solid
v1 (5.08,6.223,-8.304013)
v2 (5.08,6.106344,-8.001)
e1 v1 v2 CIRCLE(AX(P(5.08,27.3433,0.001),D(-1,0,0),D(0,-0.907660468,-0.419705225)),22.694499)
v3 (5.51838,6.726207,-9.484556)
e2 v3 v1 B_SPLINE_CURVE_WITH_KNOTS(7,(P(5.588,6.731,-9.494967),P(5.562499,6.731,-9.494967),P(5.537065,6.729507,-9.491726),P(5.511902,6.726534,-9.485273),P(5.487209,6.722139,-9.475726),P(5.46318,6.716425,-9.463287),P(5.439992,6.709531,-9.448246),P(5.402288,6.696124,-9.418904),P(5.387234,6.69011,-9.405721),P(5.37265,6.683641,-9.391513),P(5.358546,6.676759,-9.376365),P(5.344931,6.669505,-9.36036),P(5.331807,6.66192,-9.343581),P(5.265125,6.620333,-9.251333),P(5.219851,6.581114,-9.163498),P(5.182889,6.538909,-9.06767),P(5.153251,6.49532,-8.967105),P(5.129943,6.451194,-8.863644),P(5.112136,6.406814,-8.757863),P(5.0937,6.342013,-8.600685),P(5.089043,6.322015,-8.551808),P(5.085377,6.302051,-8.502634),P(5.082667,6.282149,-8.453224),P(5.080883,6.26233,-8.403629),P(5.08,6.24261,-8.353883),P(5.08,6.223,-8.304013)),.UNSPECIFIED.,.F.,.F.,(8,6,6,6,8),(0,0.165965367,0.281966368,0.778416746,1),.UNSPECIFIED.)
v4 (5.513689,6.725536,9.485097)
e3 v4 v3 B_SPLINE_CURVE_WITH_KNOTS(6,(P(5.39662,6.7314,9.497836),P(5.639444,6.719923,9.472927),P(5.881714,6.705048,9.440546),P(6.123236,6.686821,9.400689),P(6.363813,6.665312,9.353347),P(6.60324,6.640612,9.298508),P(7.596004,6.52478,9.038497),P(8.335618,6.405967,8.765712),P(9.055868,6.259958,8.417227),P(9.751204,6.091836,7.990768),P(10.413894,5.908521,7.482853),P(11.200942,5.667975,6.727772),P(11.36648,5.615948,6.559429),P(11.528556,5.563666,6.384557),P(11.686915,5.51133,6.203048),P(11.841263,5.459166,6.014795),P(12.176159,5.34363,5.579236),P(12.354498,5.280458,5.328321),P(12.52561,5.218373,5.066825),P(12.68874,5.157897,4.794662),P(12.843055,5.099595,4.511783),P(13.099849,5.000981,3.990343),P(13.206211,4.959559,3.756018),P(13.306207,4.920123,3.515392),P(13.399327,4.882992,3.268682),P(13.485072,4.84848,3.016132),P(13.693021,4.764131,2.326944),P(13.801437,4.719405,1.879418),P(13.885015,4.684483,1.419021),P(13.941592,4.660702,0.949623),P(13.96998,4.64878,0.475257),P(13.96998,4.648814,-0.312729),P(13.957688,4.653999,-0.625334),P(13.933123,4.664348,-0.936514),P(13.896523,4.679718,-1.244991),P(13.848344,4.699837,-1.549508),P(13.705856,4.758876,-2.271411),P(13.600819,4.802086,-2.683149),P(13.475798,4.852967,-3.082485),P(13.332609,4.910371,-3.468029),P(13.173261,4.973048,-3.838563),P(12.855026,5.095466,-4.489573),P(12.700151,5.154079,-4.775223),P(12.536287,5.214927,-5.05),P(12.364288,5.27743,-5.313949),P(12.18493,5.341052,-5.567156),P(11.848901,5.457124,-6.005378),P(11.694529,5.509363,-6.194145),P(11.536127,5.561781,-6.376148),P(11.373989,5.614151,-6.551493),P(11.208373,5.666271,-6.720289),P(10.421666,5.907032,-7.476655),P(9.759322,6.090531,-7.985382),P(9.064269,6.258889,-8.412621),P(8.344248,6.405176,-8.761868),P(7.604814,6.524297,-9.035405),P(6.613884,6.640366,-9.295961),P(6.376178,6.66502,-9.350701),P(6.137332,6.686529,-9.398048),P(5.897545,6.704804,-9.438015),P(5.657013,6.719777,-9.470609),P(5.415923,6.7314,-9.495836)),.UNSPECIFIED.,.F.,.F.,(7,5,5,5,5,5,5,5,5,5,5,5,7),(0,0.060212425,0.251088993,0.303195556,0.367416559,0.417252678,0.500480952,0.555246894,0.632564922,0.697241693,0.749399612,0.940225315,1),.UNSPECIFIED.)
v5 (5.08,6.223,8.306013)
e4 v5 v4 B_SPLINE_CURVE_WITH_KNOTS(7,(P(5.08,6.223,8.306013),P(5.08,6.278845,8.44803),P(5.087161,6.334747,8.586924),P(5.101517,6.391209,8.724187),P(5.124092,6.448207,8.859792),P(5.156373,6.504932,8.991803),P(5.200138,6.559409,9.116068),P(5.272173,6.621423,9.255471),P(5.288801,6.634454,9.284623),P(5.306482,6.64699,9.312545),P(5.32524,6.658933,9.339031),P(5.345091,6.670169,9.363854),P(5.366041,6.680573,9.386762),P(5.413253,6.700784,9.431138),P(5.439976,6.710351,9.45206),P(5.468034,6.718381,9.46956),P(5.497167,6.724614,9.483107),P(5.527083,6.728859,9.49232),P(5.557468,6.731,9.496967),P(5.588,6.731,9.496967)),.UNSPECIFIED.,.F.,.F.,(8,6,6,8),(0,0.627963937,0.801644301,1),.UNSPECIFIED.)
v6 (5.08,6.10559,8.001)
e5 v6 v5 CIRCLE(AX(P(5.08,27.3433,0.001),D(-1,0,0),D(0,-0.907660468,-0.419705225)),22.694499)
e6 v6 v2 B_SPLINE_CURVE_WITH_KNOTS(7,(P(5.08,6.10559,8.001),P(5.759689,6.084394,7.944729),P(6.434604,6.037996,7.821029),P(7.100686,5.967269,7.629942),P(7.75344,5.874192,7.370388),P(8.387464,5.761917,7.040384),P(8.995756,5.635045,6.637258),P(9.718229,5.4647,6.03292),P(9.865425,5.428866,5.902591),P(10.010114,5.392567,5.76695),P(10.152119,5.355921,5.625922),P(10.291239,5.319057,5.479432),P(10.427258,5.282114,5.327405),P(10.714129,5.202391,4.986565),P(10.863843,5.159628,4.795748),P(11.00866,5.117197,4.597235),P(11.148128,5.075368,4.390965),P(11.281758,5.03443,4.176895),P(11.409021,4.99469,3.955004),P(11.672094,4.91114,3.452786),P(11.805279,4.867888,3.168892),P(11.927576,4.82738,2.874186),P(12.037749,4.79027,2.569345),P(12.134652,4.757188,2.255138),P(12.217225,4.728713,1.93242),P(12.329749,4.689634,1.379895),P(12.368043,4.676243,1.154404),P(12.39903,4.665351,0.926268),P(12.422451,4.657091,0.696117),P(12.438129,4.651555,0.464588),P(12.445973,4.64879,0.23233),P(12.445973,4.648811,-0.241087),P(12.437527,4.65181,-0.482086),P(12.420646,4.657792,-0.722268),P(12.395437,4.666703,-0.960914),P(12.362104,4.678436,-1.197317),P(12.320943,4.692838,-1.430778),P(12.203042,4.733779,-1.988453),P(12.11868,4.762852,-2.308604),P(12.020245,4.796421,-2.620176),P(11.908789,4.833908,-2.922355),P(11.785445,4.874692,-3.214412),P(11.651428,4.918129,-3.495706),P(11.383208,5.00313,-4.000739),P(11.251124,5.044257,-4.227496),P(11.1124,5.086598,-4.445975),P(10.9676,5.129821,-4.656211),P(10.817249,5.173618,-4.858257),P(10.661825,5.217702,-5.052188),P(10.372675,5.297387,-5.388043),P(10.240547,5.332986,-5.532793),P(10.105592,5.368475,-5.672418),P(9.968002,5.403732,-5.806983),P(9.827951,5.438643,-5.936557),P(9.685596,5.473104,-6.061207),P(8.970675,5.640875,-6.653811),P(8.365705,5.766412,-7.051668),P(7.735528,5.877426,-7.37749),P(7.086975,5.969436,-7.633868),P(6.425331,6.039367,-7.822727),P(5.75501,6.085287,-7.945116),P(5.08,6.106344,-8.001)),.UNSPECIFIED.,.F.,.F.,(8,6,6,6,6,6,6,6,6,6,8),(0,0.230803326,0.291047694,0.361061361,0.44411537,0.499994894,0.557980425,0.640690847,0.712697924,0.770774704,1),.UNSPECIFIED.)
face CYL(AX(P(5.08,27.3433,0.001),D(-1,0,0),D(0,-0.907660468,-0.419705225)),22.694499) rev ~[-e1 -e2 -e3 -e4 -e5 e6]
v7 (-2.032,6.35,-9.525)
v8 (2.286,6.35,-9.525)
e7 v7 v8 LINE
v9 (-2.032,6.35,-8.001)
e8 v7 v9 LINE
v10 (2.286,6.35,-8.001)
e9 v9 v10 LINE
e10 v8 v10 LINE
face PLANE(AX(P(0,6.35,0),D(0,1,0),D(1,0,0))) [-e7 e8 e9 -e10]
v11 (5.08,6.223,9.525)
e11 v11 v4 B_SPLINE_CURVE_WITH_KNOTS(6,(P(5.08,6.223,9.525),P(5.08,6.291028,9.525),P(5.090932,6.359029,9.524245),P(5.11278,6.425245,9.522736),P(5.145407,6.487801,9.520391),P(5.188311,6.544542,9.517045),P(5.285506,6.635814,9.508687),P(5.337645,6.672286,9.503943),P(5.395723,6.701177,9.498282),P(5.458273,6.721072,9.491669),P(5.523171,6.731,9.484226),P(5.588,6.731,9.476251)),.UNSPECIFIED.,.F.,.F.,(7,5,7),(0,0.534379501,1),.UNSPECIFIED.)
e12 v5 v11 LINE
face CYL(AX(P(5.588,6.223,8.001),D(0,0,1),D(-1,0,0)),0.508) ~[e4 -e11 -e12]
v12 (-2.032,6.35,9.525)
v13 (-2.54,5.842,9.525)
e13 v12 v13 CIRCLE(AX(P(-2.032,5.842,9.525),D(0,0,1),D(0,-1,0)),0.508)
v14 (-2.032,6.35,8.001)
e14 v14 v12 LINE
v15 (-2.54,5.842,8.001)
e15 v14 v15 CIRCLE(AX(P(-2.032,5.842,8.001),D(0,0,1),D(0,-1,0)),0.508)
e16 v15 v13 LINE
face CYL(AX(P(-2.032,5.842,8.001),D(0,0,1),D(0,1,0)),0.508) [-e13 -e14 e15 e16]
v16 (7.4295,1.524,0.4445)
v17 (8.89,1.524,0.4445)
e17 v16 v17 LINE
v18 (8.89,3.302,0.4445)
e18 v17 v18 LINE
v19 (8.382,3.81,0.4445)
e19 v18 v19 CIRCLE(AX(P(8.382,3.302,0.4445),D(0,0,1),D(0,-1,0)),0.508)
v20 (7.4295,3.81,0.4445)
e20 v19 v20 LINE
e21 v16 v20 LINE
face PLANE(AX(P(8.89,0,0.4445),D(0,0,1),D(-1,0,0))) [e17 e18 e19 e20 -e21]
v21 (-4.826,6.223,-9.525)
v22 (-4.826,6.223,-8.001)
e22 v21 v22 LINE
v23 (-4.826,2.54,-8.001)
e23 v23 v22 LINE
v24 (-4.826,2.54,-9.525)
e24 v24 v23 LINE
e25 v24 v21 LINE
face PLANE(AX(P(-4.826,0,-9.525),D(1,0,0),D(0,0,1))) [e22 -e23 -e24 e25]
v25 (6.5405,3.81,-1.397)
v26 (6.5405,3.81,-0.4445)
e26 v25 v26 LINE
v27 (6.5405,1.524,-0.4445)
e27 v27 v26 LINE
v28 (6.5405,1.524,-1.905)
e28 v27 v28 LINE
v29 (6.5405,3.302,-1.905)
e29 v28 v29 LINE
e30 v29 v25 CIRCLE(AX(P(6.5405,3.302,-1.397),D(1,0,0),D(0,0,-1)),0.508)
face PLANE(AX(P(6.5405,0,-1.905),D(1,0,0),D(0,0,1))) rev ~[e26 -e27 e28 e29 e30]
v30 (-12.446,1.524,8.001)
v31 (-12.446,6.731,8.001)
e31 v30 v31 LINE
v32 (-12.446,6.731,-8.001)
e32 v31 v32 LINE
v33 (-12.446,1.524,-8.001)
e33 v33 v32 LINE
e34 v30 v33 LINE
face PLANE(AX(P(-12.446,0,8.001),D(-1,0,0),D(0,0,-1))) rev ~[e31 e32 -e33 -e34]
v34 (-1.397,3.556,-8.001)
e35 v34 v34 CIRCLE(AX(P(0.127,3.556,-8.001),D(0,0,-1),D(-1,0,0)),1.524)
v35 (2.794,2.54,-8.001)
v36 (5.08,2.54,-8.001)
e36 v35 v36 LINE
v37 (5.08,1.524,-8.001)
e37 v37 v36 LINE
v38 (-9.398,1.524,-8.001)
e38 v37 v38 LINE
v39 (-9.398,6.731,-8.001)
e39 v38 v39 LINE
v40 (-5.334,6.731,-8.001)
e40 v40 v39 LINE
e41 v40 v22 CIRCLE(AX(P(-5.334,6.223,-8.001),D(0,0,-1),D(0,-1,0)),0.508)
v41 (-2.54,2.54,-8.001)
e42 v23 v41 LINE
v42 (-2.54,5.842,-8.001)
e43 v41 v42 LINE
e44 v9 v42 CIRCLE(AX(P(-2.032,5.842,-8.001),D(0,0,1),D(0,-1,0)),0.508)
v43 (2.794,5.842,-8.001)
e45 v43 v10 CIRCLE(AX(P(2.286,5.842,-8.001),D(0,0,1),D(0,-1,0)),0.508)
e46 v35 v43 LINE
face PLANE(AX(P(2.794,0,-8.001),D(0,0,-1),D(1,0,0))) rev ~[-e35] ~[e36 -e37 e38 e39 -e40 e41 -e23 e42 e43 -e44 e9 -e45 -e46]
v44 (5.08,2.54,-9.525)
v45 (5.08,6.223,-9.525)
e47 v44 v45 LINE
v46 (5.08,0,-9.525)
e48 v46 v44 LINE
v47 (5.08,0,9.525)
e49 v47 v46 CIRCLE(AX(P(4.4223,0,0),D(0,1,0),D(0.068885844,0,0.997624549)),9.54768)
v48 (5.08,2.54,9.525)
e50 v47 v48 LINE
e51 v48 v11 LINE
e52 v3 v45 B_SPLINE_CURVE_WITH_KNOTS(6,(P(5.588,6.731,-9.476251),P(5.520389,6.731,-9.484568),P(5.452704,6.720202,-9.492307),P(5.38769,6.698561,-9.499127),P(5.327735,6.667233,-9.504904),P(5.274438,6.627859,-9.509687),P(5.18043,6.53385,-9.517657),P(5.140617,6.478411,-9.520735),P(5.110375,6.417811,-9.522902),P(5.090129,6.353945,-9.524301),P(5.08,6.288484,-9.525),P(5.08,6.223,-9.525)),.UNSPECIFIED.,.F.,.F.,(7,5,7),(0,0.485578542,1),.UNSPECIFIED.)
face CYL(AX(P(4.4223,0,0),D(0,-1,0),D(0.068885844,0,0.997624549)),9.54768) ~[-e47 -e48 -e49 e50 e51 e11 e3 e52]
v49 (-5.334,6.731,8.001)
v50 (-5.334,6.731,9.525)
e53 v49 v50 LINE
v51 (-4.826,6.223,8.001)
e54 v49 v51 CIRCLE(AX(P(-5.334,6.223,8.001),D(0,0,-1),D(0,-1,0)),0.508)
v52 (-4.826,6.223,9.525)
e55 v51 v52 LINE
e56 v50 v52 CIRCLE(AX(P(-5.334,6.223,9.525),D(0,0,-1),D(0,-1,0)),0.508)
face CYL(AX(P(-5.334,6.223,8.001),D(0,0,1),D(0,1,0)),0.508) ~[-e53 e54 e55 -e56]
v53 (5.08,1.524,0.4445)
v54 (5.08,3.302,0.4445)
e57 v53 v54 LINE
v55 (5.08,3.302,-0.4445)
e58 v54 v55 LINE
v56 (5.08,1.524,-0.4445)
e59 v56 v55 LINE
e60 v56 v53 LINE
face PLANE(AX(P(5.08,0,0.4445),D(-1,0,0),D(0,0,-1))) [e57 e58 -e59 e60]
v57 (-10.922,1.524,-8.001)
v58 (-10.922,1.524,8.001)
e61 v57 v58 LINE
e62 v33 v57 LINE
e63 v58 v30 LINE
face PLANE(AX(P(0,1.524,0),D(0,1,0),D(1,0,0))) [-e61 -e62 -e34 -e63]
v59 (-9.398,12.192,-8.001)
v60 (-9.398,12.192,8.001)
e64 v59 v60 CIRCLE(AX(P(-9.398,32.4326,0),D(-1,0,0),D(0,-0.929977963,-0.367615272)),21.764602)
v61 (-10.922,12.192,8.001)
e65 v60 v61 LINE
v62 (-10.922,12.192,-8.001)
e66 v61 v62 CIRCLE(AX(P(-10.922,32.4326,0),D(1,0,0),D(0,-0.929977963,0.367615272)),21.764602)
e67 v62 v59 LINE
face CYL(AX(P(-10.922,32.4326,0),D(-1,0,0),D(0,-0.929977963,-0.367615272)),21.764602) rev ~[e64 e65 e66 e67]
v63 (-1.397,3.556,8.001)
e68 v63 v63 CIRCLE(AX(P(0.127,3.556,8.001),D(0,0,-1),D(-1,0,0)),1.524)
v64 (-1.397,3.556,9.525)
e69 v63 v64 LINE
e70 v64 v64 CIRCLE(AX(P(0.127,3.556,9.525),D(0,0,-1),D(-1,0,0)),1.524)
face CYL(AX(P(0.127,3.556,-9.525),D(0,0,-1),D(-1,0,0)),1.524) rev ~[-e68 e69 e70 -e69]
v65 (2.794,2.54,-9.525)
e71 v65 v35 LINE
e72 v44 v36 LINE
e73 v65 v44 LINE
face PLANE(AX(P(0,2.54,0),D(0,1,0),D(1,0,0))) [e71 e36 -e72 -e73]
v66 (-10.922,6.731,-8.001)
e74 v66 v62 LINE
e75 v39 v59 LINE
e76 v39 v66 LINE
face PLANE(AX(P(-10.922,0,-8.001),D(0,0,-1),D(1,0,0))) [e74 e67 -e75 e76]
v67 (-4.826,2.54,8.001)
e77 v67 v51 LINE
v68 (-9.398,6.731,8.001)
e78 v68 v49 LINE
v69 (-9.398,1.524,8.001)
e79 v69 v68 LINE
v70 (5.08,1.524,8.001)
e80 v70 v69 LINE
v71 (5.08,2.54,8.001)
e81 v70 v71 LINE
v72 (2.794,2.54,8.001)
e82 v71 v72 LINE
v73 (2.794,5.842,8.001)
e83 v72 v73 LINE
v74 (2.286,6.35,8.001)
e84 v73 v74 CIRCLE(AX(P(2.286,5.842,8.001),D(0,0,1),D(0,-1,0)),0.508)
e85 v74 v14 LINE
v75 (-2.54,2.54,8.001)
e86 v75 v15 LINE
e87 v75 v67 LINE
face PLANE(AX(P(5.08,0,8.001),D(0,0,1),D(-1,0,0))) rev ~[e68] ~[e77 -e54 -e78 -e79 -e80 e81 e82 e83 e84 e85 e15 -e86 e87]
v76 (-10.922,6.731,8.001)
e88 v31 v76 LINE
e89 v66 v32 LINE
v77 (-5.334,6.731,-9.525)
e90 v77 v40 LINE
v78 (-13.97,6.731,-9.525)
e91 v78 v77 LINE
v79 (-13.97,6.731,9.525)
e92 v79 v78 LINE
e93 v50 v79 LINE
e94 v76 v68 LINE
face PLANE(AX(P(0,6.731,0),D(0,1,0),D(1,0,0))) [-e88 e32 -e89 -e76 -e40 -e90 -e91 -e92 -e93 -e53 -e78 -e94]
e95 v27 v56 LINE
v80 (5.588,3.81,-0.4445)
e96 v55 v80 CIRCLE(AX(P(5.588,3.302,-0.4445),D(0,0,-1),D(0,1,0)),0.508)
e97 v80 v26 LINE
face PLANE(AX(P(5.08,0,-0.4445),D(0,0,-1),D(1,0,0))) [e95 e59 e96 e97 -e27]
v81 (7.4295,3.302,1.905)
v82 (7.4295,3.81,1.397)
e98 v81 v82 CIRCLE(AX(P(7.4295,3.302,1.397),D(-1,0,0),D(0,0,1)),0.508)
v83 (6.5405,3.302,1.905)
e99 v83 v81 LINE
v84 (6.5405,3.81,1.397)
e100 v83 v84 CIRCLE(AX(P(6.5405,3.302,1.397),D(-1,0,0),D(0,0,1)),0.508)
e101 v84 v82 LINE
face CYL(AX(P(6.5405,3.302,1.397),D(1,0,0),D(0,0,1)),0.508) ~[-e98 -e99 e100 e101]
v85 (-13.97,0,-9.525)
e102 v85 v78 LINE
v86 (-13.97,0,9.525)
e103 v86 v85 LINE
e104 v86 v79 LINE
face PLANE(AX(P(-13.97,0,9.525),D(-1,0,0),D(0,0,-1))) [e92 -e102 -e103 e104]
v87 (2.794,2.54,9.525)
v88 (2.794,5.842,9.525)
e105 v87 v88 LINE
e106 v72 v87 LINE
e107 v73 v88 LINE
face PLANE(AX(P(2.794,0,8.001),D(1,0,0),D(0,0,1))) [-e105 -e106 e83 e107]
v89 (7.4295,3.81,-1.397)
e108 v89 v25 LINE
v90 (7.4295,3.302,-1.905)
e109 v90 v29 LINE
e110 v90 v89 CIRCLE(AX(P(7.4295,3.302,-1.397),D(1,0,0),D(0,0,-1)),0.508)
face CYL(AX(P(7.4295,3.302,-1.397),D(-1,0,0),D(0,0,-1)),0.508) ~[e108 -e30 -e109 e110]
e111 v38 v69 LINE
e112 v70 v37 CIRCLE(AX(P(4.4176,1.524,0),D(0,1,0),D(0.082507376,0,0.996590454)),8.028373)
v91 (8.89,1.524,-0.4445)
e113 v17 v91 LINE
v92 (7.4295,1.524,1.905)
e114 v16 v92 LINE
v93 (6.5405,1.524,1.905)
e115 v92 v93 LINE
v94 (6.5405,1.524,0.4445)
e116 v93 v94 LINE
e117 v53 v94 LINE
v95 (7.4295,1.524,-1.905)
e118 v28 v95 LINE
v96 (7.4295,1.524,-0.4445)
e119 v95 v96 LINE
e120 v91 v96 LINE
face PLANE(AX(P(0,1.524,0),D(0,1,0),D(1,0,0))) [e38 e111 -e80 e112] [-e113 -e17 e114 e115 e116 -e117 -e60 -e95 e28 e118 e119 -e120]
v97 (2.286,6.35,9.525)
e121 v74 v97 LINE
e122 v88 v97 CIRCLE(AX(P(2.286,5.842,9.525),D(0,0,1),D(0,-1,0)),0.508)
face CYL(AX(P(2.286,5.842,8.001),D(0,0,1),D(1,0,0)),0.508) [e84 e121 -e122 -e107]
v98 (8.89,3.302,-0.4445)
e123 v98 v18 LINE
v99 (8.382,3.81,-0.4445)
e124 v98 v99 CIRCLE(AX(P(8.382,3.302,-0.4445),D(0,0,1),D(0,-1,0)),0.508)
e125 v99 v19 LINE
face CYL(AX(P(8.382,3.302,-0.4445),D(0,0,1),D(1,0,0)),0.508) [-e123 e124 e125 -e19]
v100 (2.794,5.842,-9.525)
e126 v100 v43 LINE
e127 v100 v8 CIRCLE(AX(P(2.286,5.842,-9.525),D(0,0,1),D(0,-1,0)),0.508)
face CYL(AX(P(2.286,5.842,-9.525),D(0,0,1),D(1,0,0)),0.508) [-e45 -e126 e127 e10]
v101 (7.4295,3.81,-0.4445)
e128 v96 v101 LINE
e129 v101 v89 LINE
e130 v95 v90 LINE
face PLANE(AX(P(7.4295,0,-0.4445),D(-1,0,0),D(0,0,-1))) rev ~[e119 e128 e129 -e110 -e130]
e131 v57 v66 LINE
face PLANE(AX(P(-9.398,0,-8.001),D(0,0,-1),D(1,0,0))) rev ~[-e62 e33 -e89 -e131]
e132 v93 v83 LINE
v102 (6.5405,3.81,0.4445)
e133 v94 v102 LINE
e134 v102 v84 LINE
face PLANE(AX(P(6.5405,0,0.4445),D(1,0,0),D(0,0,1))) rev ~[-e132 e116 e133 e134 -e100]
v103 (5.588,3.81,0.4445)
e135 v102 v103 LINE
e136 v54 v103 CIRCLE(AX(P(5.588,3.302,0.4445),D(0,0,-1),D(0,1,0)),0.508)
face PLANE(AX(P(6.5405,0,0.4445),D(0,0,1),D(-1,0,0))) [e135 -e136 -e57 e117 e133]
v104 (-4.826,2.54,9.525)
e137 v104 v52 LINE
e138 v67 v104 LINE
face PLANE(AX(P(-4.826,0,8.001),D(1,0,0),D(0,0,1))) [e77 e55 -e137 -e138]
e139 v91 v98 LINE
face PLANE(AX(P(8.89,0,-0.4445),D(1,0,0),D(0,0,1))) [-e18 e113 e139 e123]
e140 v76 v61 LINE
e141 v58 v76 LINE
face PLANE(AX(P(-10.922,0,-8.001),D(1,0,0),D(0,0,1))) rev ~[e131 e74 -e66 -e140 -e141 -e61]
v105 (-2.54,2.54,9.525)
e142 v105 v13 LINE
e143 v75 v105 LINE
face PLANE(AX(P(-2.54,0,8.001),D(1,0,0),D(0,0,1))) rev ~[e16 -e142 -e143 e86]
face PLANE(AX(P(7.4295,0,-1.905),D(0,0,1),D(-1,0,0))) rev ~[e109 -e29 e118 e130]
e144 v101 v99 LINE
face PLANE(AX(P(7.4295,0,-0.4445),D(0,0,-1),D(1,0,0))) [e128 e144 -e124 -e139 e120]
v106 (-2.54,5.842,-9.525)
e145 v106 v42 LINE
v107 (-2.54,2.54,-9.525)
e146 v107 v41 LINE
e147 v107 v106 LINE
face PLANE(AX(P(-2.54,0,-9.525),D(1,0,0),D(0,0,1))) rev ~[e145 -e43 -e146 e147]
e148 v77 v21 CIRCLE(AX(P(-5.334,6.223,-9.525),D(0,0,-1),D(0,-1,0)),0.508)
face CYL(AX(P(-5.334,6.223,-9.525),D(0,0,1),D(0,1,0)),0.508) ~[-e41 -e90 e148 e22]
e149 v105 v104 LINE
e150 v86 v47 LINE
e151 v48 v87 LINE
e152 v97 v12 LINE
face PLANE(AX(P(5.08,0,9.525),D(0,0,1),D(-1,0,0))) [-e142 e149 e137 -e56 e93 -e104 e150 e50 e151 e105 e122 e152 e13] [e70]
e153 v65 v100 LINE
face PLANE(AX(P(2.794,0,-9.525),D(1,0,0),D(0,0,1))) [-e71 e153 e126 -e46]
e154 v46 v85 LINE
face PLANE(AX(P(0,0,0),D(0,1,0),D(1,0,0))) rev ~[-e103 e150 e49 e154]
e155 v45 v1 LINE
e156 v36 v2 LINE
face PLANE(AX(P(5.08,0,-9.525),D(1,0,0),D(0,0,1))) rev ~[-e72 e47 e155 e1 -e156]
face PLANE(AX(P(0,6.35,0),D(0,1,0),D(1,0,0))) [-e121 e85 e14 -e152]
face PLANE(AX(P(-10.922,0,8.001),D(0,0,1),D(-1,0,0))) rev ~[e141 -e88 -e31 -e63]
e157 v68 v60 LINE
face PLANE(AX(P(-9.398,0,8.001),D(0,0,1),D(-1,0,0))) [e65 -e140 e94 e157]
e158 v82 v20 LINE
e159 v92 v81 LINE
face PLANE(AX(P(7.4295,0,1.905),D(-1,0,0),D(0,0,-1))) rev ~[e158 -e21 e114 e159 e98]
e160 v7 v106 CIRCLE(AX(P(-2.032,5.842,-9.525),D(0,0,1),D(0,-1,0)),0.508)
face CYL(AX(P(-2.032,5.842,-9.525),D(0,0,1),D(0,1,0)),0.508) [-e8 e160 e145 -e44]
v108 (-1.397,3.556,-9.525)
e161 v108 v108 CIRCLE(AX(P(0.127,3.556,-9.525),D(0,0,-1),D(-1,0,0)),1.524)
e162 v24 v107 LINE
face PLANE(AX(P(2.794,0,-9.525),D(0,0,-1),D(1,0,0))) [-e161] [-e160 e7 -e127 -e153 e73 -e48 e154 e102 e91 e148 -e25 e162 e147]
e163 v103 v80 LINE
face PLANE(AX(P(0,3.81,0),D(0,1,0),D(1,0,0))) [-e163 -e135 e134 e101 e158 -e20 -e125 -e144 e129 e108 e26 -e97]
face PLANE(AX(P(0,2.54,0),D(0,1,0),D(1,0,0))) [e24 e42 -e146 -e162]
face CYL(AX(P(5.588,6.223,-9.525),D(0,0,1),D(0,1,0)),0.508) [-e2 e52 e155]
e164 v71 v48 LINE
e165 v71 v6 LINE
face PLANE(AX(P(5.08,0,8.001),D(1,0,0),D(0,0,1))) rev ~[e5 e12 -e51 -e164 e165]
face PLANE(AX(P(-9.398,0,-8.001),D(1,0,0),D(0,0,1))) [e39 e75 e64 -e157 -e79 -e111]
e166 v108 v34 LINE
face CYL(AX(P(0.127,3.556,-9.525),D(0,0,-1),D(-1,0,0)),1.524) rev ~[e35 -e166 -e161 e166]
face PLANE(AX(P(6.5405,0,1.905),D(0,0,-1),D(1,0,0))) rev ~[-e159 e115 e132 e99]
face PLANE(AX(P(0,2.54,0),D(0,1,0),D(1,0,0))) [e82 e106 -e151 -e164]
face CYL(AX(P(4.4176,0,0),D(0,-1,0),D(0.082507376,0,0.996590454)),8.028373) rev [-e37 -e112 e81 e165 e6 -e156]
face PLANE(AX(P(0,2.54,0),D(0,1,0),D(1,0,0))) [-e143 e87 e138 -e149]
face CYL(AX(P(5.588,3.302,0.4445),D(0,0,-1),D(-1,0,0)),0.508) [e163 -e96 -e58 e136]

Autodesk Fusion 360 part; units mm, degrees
sketch "Sketch1" plane through (0, 0, 0) normal (0, 1, 0) x (1, 0, 0)
  line L0 (-13.97, -9.525) -> (-13.97, 9.525)
  line L1 (-13.97, 9.525) -> (13.97, 9.525)
  line L2 (13.97, 9.525) -> (13.97, -9.525)
  line L3 (13.97, -9.525) -> (-13.97, 9.525) construction
  line L4 (-13.97, -9.525) -> (13.97, 9.525) construction
  line L5 (5.08, 9.525) -> (5.08, -9.525) construction
  line L6 (5.08, 0) -> (13.97, 0) construction
  arc A0 (5.08, -9.525) -> (5.08, 9.525) centre (4.4223, 0) ccw
  line L7 (-13.97, 9.525) -> (13.97, 9.525)
  arc A1 (5.08, -9.525) -> (5.08, 9.525) centre (4.4223, 0) ccw
  line L8 (13.97, -9.525) -> (-13.97, -9.525)
  line L9 (-13.97, -9.525) -> (-13.97, 9.525)
  line L10 (-12.446, 8.001) -> (5.08, 8.001)
  line L11 (5.08, -8.001) -> (-12.446, -8.001)
  line L12 (-12.446, -8.001) -> (-12.446, 8.001)
  line L13 (13.97, 0) -> (12.446, 0) construction
  arc A2 (5.08, -8.001) -> (5.08, 8.001) centre (4.4176, 0) ccw
  line L14 (-10.922, 8.001) -> (-10.922, -8.001)
  line L15 (-9.398, 8.001) -> (-9.398, -8.001)
  line L16 (2.794, 9.525) -> (2.794, 8.001)
  line L17 (2.794, -8.001) -> (2.794, -9.525)
  line L18 (-2.54, 9.525) -> (-2.54, 8.001)
  line L19 (-2.54, -8.001) -> (-2.54, -9.525)
  line L20 (-4.826, 9.525) -> (-4.826, 8.001)
  line L21 (-4.826, -8.001) -> (-4.826, -9.525)
  line L22 (5.08, 9.525) -> (5.08, 8.001)
  line L23 (5.08, -8.001) -> (5.08, -9.525)
  line L24 (5.08, 0.4445) -> (8.89, 0.4445)
  line L25 (8.89, 0.4445) -> (8.89, -0.4445)
  line L26 (8.89, -0.4445) -> (5.08, -0.4445)
  line L27 (5.08, -0.4445) -> (5.08, 0.4445)
  line L28 (5.08, 0) -> (6.985, 0) construction
  line L29 (7.4295, 1.905) -> (6.5405, 1.905)
  line L30 (6.5405, 1.905) -> (6.5405, -1.905)
  line L31 (6.5405, -1.905) -> (7.4295, -1.905)
  line L32 (7.4295, -1.905) -> (7.4295, 1.905)
  line L33 (7.4295, 1.905) -> (6.5405, -1.905) construction
  line L34 (6.5405, 1.905) -> (7.4295, -1.905) construction
  point P0 (6.985, 0)
  dimension "d2" = 19.05
  dimension "d4" = 9.525
  dimension "d5" = 9.525
  dimension "d6" = 27.94
  dimension "d7" = 19.05
  dimension "d12" = 1.524
  dimension "d13" = 1.524
  dimension "d14" = 1.524
  dimension "d17" = 19.05
  dimension "d18" = 19.05
  dimension "d19" = 1.524
  dimension "d20" = 1.524
  dimension "d21" = 1.524
  dimension "d22" = 16.764
  dimension "d23" = 11.43
  dimension "d24" = 16.764
  dimension "d25" = 11.43
  dimension "d26" = 2.286
  dimension "d27" = 2.286
  dimension "d38" = 3.81
  dimension "d39" = 0.889
  dimension "d40" = 0.4445
  dimension "d41" = 1.905
  dimension "d42" = 0.889
  dimension "d43" = 3.81
extrude "Extrude1" add sketch "Sketch1" along normal blind 6.731 contours L0 L1 L7 L8 L9 L10 L11 L12 L20 L21 | A0 A1 A2 L22 L23 makes body 1 at (9.3779, 4.4873, -8.1609) makes body 2 at (-13.97, 4.4873, 3.175)
extrude "Extrude2" add sketch "Sketch1" along normal blind 12.192 contours L10 L11 L14 L15 bodies 2
extrude "Extrude3" add sketch "Sketch1" along normal blind 1.524 contours L10 L11 A2 L15 | L10 L11 L12 L14 | L24 L26 L27 L30 | L24 L29 L30 L32 | L24 L26 L30 L32 | L24 L25 L26 L32 | L26 L30 L31 L32 bodies 1 2
extrude "Extrude4" add sketch "Sketch1" along normal blind 2.54 contours L8 L11 L19 L21 | L1 L7 L10 L18 L20 | L8 L11 L17 L23 | L1 L7 L10 L16 L22 bodies 1
extrude "Extrude5" add sketch "Sketch1" along normal blind 6.35 contours L8 L11 L17 L19 | L1 L7 L10 L16 L18 bodies 1
extrude "Extrude6" add sketch "Sketch1" along normal blind 3.81 contours L24 L26 L27 L30 | L24 L29 L30 L32 | L24 L26 L30 L32 | L24 L25 L26 L32 | L26 L30 L31 L32 bodies 1
sketch "Sketch2" plane through (-10.922, 0, 0) normal (-1, 0, 0) x (0, 0, 1)
  line L0 (-8.001, 1.524) -> (8.001, 1.524)
  line L1 (8.001, 1.524) -> (8.001, 6.731)
  line L2 (8.001, 6.731) -> (8.001, 12.192)
  line L3 (8.001, 12.192) -> (-8.001, 12.192)
  line L4 (-8.001, 12.192) -> (-8.001, 6.731)
  line L5 (-8.001, 6.731) -> (-8.001, 1.524)
  line L6 (0, 12.192) -> (0, 10.668)
  arc A0 (-8.001, 12.192) -> (8.001, 12.192) centre (0, 32.4326) ccw
  dimension "d46" = 1.524
extrude "Extrude7" cut sketch "Sketch2" against normal up to surface (1.524 mm away) contours L3 L6 A0 | L3 L6 A0 bodies 1
sketch "Sketch3" plane through (0, 0, -9.525) normal (0, 0, -1) x (-1, 0, 0)
  line L0 (-5.08, 0) -> (13.97, 0)
  line L1 (13.97, 0) -> (13.97, 6.731)
  line L2 (13.97, 6.731) -> (4.826, 6.731)
  line L3 (4.826, 6.731) -> (4.826, 2.54)
  line L4 (4.826, 2.54) -> (2.54, 2.54)
  line L5 (2.54, 2.54) -> (2.54, 6.35)
  line L6 (2.54, 6.35) -> (-2.794, 6.35)
  line L7 (-2.794, 6.35) -> (-2.794, 2.54)
  line L8 (-2.794, 2.54) -> (-5.08, 2.54)
  line L9 (-5.08, 2.54) -> (-5.08, 0)
  line L10 (-2.794, 3.556) -> (2.54, 3.556) construction
  line L11 (-0.127, 6.35) -> (-0.127, 3.556) construction
  circle A0 centre (-0.127, 3.556) radius 1.524
  dimension "d49" = 2.667
  dimension "d50" = 2.794
  dimension "d51" = 3.048
extrude "Extrude8" cut sketch "Sketch3" against normal up to surface (19.05 mm away) contours A0 bodies 1
fillet "Fillet1" radius 0.508 12 edges at (-4.826, 6.731, -8.763) (-2.54, 6.35, -8.763) (2.794, 6.35, -8.763) (5.08, 6.731, -8.763) (5.08, 6.731, 8.763) (2.794, 6.35, 8.763) (-2.54, 6.35, 8.763) (-4.826, 6.731, 8.763) (5.08, 3.81, 0) (6.985, 3.81, -1.905) (6.985, 3.81, 1.905) (8.89, 3.81, 0) on bodies 1
ref_plane "WorkPlane2" through (5.08, 3.3655, 0) normal (-1, 0, 0) x (0, 0, 1)
sketch "Sketch6" plane through (5.08, 3.3655, 0) normal (-1, 0, 0) x (0, 0, -1)
  line L0 (9.524, -3.3789) -> (-9.526, -3.3789)
  arc A0 (9.524, -3.3789) -> (-9.526, -3.3789) centre (-0.001, -23.9778) ccw
  dimension "d58" = 19.05
extrude "Extrude9" cut sketch "Sketch6" against normal blind 8.89 bodies 1
